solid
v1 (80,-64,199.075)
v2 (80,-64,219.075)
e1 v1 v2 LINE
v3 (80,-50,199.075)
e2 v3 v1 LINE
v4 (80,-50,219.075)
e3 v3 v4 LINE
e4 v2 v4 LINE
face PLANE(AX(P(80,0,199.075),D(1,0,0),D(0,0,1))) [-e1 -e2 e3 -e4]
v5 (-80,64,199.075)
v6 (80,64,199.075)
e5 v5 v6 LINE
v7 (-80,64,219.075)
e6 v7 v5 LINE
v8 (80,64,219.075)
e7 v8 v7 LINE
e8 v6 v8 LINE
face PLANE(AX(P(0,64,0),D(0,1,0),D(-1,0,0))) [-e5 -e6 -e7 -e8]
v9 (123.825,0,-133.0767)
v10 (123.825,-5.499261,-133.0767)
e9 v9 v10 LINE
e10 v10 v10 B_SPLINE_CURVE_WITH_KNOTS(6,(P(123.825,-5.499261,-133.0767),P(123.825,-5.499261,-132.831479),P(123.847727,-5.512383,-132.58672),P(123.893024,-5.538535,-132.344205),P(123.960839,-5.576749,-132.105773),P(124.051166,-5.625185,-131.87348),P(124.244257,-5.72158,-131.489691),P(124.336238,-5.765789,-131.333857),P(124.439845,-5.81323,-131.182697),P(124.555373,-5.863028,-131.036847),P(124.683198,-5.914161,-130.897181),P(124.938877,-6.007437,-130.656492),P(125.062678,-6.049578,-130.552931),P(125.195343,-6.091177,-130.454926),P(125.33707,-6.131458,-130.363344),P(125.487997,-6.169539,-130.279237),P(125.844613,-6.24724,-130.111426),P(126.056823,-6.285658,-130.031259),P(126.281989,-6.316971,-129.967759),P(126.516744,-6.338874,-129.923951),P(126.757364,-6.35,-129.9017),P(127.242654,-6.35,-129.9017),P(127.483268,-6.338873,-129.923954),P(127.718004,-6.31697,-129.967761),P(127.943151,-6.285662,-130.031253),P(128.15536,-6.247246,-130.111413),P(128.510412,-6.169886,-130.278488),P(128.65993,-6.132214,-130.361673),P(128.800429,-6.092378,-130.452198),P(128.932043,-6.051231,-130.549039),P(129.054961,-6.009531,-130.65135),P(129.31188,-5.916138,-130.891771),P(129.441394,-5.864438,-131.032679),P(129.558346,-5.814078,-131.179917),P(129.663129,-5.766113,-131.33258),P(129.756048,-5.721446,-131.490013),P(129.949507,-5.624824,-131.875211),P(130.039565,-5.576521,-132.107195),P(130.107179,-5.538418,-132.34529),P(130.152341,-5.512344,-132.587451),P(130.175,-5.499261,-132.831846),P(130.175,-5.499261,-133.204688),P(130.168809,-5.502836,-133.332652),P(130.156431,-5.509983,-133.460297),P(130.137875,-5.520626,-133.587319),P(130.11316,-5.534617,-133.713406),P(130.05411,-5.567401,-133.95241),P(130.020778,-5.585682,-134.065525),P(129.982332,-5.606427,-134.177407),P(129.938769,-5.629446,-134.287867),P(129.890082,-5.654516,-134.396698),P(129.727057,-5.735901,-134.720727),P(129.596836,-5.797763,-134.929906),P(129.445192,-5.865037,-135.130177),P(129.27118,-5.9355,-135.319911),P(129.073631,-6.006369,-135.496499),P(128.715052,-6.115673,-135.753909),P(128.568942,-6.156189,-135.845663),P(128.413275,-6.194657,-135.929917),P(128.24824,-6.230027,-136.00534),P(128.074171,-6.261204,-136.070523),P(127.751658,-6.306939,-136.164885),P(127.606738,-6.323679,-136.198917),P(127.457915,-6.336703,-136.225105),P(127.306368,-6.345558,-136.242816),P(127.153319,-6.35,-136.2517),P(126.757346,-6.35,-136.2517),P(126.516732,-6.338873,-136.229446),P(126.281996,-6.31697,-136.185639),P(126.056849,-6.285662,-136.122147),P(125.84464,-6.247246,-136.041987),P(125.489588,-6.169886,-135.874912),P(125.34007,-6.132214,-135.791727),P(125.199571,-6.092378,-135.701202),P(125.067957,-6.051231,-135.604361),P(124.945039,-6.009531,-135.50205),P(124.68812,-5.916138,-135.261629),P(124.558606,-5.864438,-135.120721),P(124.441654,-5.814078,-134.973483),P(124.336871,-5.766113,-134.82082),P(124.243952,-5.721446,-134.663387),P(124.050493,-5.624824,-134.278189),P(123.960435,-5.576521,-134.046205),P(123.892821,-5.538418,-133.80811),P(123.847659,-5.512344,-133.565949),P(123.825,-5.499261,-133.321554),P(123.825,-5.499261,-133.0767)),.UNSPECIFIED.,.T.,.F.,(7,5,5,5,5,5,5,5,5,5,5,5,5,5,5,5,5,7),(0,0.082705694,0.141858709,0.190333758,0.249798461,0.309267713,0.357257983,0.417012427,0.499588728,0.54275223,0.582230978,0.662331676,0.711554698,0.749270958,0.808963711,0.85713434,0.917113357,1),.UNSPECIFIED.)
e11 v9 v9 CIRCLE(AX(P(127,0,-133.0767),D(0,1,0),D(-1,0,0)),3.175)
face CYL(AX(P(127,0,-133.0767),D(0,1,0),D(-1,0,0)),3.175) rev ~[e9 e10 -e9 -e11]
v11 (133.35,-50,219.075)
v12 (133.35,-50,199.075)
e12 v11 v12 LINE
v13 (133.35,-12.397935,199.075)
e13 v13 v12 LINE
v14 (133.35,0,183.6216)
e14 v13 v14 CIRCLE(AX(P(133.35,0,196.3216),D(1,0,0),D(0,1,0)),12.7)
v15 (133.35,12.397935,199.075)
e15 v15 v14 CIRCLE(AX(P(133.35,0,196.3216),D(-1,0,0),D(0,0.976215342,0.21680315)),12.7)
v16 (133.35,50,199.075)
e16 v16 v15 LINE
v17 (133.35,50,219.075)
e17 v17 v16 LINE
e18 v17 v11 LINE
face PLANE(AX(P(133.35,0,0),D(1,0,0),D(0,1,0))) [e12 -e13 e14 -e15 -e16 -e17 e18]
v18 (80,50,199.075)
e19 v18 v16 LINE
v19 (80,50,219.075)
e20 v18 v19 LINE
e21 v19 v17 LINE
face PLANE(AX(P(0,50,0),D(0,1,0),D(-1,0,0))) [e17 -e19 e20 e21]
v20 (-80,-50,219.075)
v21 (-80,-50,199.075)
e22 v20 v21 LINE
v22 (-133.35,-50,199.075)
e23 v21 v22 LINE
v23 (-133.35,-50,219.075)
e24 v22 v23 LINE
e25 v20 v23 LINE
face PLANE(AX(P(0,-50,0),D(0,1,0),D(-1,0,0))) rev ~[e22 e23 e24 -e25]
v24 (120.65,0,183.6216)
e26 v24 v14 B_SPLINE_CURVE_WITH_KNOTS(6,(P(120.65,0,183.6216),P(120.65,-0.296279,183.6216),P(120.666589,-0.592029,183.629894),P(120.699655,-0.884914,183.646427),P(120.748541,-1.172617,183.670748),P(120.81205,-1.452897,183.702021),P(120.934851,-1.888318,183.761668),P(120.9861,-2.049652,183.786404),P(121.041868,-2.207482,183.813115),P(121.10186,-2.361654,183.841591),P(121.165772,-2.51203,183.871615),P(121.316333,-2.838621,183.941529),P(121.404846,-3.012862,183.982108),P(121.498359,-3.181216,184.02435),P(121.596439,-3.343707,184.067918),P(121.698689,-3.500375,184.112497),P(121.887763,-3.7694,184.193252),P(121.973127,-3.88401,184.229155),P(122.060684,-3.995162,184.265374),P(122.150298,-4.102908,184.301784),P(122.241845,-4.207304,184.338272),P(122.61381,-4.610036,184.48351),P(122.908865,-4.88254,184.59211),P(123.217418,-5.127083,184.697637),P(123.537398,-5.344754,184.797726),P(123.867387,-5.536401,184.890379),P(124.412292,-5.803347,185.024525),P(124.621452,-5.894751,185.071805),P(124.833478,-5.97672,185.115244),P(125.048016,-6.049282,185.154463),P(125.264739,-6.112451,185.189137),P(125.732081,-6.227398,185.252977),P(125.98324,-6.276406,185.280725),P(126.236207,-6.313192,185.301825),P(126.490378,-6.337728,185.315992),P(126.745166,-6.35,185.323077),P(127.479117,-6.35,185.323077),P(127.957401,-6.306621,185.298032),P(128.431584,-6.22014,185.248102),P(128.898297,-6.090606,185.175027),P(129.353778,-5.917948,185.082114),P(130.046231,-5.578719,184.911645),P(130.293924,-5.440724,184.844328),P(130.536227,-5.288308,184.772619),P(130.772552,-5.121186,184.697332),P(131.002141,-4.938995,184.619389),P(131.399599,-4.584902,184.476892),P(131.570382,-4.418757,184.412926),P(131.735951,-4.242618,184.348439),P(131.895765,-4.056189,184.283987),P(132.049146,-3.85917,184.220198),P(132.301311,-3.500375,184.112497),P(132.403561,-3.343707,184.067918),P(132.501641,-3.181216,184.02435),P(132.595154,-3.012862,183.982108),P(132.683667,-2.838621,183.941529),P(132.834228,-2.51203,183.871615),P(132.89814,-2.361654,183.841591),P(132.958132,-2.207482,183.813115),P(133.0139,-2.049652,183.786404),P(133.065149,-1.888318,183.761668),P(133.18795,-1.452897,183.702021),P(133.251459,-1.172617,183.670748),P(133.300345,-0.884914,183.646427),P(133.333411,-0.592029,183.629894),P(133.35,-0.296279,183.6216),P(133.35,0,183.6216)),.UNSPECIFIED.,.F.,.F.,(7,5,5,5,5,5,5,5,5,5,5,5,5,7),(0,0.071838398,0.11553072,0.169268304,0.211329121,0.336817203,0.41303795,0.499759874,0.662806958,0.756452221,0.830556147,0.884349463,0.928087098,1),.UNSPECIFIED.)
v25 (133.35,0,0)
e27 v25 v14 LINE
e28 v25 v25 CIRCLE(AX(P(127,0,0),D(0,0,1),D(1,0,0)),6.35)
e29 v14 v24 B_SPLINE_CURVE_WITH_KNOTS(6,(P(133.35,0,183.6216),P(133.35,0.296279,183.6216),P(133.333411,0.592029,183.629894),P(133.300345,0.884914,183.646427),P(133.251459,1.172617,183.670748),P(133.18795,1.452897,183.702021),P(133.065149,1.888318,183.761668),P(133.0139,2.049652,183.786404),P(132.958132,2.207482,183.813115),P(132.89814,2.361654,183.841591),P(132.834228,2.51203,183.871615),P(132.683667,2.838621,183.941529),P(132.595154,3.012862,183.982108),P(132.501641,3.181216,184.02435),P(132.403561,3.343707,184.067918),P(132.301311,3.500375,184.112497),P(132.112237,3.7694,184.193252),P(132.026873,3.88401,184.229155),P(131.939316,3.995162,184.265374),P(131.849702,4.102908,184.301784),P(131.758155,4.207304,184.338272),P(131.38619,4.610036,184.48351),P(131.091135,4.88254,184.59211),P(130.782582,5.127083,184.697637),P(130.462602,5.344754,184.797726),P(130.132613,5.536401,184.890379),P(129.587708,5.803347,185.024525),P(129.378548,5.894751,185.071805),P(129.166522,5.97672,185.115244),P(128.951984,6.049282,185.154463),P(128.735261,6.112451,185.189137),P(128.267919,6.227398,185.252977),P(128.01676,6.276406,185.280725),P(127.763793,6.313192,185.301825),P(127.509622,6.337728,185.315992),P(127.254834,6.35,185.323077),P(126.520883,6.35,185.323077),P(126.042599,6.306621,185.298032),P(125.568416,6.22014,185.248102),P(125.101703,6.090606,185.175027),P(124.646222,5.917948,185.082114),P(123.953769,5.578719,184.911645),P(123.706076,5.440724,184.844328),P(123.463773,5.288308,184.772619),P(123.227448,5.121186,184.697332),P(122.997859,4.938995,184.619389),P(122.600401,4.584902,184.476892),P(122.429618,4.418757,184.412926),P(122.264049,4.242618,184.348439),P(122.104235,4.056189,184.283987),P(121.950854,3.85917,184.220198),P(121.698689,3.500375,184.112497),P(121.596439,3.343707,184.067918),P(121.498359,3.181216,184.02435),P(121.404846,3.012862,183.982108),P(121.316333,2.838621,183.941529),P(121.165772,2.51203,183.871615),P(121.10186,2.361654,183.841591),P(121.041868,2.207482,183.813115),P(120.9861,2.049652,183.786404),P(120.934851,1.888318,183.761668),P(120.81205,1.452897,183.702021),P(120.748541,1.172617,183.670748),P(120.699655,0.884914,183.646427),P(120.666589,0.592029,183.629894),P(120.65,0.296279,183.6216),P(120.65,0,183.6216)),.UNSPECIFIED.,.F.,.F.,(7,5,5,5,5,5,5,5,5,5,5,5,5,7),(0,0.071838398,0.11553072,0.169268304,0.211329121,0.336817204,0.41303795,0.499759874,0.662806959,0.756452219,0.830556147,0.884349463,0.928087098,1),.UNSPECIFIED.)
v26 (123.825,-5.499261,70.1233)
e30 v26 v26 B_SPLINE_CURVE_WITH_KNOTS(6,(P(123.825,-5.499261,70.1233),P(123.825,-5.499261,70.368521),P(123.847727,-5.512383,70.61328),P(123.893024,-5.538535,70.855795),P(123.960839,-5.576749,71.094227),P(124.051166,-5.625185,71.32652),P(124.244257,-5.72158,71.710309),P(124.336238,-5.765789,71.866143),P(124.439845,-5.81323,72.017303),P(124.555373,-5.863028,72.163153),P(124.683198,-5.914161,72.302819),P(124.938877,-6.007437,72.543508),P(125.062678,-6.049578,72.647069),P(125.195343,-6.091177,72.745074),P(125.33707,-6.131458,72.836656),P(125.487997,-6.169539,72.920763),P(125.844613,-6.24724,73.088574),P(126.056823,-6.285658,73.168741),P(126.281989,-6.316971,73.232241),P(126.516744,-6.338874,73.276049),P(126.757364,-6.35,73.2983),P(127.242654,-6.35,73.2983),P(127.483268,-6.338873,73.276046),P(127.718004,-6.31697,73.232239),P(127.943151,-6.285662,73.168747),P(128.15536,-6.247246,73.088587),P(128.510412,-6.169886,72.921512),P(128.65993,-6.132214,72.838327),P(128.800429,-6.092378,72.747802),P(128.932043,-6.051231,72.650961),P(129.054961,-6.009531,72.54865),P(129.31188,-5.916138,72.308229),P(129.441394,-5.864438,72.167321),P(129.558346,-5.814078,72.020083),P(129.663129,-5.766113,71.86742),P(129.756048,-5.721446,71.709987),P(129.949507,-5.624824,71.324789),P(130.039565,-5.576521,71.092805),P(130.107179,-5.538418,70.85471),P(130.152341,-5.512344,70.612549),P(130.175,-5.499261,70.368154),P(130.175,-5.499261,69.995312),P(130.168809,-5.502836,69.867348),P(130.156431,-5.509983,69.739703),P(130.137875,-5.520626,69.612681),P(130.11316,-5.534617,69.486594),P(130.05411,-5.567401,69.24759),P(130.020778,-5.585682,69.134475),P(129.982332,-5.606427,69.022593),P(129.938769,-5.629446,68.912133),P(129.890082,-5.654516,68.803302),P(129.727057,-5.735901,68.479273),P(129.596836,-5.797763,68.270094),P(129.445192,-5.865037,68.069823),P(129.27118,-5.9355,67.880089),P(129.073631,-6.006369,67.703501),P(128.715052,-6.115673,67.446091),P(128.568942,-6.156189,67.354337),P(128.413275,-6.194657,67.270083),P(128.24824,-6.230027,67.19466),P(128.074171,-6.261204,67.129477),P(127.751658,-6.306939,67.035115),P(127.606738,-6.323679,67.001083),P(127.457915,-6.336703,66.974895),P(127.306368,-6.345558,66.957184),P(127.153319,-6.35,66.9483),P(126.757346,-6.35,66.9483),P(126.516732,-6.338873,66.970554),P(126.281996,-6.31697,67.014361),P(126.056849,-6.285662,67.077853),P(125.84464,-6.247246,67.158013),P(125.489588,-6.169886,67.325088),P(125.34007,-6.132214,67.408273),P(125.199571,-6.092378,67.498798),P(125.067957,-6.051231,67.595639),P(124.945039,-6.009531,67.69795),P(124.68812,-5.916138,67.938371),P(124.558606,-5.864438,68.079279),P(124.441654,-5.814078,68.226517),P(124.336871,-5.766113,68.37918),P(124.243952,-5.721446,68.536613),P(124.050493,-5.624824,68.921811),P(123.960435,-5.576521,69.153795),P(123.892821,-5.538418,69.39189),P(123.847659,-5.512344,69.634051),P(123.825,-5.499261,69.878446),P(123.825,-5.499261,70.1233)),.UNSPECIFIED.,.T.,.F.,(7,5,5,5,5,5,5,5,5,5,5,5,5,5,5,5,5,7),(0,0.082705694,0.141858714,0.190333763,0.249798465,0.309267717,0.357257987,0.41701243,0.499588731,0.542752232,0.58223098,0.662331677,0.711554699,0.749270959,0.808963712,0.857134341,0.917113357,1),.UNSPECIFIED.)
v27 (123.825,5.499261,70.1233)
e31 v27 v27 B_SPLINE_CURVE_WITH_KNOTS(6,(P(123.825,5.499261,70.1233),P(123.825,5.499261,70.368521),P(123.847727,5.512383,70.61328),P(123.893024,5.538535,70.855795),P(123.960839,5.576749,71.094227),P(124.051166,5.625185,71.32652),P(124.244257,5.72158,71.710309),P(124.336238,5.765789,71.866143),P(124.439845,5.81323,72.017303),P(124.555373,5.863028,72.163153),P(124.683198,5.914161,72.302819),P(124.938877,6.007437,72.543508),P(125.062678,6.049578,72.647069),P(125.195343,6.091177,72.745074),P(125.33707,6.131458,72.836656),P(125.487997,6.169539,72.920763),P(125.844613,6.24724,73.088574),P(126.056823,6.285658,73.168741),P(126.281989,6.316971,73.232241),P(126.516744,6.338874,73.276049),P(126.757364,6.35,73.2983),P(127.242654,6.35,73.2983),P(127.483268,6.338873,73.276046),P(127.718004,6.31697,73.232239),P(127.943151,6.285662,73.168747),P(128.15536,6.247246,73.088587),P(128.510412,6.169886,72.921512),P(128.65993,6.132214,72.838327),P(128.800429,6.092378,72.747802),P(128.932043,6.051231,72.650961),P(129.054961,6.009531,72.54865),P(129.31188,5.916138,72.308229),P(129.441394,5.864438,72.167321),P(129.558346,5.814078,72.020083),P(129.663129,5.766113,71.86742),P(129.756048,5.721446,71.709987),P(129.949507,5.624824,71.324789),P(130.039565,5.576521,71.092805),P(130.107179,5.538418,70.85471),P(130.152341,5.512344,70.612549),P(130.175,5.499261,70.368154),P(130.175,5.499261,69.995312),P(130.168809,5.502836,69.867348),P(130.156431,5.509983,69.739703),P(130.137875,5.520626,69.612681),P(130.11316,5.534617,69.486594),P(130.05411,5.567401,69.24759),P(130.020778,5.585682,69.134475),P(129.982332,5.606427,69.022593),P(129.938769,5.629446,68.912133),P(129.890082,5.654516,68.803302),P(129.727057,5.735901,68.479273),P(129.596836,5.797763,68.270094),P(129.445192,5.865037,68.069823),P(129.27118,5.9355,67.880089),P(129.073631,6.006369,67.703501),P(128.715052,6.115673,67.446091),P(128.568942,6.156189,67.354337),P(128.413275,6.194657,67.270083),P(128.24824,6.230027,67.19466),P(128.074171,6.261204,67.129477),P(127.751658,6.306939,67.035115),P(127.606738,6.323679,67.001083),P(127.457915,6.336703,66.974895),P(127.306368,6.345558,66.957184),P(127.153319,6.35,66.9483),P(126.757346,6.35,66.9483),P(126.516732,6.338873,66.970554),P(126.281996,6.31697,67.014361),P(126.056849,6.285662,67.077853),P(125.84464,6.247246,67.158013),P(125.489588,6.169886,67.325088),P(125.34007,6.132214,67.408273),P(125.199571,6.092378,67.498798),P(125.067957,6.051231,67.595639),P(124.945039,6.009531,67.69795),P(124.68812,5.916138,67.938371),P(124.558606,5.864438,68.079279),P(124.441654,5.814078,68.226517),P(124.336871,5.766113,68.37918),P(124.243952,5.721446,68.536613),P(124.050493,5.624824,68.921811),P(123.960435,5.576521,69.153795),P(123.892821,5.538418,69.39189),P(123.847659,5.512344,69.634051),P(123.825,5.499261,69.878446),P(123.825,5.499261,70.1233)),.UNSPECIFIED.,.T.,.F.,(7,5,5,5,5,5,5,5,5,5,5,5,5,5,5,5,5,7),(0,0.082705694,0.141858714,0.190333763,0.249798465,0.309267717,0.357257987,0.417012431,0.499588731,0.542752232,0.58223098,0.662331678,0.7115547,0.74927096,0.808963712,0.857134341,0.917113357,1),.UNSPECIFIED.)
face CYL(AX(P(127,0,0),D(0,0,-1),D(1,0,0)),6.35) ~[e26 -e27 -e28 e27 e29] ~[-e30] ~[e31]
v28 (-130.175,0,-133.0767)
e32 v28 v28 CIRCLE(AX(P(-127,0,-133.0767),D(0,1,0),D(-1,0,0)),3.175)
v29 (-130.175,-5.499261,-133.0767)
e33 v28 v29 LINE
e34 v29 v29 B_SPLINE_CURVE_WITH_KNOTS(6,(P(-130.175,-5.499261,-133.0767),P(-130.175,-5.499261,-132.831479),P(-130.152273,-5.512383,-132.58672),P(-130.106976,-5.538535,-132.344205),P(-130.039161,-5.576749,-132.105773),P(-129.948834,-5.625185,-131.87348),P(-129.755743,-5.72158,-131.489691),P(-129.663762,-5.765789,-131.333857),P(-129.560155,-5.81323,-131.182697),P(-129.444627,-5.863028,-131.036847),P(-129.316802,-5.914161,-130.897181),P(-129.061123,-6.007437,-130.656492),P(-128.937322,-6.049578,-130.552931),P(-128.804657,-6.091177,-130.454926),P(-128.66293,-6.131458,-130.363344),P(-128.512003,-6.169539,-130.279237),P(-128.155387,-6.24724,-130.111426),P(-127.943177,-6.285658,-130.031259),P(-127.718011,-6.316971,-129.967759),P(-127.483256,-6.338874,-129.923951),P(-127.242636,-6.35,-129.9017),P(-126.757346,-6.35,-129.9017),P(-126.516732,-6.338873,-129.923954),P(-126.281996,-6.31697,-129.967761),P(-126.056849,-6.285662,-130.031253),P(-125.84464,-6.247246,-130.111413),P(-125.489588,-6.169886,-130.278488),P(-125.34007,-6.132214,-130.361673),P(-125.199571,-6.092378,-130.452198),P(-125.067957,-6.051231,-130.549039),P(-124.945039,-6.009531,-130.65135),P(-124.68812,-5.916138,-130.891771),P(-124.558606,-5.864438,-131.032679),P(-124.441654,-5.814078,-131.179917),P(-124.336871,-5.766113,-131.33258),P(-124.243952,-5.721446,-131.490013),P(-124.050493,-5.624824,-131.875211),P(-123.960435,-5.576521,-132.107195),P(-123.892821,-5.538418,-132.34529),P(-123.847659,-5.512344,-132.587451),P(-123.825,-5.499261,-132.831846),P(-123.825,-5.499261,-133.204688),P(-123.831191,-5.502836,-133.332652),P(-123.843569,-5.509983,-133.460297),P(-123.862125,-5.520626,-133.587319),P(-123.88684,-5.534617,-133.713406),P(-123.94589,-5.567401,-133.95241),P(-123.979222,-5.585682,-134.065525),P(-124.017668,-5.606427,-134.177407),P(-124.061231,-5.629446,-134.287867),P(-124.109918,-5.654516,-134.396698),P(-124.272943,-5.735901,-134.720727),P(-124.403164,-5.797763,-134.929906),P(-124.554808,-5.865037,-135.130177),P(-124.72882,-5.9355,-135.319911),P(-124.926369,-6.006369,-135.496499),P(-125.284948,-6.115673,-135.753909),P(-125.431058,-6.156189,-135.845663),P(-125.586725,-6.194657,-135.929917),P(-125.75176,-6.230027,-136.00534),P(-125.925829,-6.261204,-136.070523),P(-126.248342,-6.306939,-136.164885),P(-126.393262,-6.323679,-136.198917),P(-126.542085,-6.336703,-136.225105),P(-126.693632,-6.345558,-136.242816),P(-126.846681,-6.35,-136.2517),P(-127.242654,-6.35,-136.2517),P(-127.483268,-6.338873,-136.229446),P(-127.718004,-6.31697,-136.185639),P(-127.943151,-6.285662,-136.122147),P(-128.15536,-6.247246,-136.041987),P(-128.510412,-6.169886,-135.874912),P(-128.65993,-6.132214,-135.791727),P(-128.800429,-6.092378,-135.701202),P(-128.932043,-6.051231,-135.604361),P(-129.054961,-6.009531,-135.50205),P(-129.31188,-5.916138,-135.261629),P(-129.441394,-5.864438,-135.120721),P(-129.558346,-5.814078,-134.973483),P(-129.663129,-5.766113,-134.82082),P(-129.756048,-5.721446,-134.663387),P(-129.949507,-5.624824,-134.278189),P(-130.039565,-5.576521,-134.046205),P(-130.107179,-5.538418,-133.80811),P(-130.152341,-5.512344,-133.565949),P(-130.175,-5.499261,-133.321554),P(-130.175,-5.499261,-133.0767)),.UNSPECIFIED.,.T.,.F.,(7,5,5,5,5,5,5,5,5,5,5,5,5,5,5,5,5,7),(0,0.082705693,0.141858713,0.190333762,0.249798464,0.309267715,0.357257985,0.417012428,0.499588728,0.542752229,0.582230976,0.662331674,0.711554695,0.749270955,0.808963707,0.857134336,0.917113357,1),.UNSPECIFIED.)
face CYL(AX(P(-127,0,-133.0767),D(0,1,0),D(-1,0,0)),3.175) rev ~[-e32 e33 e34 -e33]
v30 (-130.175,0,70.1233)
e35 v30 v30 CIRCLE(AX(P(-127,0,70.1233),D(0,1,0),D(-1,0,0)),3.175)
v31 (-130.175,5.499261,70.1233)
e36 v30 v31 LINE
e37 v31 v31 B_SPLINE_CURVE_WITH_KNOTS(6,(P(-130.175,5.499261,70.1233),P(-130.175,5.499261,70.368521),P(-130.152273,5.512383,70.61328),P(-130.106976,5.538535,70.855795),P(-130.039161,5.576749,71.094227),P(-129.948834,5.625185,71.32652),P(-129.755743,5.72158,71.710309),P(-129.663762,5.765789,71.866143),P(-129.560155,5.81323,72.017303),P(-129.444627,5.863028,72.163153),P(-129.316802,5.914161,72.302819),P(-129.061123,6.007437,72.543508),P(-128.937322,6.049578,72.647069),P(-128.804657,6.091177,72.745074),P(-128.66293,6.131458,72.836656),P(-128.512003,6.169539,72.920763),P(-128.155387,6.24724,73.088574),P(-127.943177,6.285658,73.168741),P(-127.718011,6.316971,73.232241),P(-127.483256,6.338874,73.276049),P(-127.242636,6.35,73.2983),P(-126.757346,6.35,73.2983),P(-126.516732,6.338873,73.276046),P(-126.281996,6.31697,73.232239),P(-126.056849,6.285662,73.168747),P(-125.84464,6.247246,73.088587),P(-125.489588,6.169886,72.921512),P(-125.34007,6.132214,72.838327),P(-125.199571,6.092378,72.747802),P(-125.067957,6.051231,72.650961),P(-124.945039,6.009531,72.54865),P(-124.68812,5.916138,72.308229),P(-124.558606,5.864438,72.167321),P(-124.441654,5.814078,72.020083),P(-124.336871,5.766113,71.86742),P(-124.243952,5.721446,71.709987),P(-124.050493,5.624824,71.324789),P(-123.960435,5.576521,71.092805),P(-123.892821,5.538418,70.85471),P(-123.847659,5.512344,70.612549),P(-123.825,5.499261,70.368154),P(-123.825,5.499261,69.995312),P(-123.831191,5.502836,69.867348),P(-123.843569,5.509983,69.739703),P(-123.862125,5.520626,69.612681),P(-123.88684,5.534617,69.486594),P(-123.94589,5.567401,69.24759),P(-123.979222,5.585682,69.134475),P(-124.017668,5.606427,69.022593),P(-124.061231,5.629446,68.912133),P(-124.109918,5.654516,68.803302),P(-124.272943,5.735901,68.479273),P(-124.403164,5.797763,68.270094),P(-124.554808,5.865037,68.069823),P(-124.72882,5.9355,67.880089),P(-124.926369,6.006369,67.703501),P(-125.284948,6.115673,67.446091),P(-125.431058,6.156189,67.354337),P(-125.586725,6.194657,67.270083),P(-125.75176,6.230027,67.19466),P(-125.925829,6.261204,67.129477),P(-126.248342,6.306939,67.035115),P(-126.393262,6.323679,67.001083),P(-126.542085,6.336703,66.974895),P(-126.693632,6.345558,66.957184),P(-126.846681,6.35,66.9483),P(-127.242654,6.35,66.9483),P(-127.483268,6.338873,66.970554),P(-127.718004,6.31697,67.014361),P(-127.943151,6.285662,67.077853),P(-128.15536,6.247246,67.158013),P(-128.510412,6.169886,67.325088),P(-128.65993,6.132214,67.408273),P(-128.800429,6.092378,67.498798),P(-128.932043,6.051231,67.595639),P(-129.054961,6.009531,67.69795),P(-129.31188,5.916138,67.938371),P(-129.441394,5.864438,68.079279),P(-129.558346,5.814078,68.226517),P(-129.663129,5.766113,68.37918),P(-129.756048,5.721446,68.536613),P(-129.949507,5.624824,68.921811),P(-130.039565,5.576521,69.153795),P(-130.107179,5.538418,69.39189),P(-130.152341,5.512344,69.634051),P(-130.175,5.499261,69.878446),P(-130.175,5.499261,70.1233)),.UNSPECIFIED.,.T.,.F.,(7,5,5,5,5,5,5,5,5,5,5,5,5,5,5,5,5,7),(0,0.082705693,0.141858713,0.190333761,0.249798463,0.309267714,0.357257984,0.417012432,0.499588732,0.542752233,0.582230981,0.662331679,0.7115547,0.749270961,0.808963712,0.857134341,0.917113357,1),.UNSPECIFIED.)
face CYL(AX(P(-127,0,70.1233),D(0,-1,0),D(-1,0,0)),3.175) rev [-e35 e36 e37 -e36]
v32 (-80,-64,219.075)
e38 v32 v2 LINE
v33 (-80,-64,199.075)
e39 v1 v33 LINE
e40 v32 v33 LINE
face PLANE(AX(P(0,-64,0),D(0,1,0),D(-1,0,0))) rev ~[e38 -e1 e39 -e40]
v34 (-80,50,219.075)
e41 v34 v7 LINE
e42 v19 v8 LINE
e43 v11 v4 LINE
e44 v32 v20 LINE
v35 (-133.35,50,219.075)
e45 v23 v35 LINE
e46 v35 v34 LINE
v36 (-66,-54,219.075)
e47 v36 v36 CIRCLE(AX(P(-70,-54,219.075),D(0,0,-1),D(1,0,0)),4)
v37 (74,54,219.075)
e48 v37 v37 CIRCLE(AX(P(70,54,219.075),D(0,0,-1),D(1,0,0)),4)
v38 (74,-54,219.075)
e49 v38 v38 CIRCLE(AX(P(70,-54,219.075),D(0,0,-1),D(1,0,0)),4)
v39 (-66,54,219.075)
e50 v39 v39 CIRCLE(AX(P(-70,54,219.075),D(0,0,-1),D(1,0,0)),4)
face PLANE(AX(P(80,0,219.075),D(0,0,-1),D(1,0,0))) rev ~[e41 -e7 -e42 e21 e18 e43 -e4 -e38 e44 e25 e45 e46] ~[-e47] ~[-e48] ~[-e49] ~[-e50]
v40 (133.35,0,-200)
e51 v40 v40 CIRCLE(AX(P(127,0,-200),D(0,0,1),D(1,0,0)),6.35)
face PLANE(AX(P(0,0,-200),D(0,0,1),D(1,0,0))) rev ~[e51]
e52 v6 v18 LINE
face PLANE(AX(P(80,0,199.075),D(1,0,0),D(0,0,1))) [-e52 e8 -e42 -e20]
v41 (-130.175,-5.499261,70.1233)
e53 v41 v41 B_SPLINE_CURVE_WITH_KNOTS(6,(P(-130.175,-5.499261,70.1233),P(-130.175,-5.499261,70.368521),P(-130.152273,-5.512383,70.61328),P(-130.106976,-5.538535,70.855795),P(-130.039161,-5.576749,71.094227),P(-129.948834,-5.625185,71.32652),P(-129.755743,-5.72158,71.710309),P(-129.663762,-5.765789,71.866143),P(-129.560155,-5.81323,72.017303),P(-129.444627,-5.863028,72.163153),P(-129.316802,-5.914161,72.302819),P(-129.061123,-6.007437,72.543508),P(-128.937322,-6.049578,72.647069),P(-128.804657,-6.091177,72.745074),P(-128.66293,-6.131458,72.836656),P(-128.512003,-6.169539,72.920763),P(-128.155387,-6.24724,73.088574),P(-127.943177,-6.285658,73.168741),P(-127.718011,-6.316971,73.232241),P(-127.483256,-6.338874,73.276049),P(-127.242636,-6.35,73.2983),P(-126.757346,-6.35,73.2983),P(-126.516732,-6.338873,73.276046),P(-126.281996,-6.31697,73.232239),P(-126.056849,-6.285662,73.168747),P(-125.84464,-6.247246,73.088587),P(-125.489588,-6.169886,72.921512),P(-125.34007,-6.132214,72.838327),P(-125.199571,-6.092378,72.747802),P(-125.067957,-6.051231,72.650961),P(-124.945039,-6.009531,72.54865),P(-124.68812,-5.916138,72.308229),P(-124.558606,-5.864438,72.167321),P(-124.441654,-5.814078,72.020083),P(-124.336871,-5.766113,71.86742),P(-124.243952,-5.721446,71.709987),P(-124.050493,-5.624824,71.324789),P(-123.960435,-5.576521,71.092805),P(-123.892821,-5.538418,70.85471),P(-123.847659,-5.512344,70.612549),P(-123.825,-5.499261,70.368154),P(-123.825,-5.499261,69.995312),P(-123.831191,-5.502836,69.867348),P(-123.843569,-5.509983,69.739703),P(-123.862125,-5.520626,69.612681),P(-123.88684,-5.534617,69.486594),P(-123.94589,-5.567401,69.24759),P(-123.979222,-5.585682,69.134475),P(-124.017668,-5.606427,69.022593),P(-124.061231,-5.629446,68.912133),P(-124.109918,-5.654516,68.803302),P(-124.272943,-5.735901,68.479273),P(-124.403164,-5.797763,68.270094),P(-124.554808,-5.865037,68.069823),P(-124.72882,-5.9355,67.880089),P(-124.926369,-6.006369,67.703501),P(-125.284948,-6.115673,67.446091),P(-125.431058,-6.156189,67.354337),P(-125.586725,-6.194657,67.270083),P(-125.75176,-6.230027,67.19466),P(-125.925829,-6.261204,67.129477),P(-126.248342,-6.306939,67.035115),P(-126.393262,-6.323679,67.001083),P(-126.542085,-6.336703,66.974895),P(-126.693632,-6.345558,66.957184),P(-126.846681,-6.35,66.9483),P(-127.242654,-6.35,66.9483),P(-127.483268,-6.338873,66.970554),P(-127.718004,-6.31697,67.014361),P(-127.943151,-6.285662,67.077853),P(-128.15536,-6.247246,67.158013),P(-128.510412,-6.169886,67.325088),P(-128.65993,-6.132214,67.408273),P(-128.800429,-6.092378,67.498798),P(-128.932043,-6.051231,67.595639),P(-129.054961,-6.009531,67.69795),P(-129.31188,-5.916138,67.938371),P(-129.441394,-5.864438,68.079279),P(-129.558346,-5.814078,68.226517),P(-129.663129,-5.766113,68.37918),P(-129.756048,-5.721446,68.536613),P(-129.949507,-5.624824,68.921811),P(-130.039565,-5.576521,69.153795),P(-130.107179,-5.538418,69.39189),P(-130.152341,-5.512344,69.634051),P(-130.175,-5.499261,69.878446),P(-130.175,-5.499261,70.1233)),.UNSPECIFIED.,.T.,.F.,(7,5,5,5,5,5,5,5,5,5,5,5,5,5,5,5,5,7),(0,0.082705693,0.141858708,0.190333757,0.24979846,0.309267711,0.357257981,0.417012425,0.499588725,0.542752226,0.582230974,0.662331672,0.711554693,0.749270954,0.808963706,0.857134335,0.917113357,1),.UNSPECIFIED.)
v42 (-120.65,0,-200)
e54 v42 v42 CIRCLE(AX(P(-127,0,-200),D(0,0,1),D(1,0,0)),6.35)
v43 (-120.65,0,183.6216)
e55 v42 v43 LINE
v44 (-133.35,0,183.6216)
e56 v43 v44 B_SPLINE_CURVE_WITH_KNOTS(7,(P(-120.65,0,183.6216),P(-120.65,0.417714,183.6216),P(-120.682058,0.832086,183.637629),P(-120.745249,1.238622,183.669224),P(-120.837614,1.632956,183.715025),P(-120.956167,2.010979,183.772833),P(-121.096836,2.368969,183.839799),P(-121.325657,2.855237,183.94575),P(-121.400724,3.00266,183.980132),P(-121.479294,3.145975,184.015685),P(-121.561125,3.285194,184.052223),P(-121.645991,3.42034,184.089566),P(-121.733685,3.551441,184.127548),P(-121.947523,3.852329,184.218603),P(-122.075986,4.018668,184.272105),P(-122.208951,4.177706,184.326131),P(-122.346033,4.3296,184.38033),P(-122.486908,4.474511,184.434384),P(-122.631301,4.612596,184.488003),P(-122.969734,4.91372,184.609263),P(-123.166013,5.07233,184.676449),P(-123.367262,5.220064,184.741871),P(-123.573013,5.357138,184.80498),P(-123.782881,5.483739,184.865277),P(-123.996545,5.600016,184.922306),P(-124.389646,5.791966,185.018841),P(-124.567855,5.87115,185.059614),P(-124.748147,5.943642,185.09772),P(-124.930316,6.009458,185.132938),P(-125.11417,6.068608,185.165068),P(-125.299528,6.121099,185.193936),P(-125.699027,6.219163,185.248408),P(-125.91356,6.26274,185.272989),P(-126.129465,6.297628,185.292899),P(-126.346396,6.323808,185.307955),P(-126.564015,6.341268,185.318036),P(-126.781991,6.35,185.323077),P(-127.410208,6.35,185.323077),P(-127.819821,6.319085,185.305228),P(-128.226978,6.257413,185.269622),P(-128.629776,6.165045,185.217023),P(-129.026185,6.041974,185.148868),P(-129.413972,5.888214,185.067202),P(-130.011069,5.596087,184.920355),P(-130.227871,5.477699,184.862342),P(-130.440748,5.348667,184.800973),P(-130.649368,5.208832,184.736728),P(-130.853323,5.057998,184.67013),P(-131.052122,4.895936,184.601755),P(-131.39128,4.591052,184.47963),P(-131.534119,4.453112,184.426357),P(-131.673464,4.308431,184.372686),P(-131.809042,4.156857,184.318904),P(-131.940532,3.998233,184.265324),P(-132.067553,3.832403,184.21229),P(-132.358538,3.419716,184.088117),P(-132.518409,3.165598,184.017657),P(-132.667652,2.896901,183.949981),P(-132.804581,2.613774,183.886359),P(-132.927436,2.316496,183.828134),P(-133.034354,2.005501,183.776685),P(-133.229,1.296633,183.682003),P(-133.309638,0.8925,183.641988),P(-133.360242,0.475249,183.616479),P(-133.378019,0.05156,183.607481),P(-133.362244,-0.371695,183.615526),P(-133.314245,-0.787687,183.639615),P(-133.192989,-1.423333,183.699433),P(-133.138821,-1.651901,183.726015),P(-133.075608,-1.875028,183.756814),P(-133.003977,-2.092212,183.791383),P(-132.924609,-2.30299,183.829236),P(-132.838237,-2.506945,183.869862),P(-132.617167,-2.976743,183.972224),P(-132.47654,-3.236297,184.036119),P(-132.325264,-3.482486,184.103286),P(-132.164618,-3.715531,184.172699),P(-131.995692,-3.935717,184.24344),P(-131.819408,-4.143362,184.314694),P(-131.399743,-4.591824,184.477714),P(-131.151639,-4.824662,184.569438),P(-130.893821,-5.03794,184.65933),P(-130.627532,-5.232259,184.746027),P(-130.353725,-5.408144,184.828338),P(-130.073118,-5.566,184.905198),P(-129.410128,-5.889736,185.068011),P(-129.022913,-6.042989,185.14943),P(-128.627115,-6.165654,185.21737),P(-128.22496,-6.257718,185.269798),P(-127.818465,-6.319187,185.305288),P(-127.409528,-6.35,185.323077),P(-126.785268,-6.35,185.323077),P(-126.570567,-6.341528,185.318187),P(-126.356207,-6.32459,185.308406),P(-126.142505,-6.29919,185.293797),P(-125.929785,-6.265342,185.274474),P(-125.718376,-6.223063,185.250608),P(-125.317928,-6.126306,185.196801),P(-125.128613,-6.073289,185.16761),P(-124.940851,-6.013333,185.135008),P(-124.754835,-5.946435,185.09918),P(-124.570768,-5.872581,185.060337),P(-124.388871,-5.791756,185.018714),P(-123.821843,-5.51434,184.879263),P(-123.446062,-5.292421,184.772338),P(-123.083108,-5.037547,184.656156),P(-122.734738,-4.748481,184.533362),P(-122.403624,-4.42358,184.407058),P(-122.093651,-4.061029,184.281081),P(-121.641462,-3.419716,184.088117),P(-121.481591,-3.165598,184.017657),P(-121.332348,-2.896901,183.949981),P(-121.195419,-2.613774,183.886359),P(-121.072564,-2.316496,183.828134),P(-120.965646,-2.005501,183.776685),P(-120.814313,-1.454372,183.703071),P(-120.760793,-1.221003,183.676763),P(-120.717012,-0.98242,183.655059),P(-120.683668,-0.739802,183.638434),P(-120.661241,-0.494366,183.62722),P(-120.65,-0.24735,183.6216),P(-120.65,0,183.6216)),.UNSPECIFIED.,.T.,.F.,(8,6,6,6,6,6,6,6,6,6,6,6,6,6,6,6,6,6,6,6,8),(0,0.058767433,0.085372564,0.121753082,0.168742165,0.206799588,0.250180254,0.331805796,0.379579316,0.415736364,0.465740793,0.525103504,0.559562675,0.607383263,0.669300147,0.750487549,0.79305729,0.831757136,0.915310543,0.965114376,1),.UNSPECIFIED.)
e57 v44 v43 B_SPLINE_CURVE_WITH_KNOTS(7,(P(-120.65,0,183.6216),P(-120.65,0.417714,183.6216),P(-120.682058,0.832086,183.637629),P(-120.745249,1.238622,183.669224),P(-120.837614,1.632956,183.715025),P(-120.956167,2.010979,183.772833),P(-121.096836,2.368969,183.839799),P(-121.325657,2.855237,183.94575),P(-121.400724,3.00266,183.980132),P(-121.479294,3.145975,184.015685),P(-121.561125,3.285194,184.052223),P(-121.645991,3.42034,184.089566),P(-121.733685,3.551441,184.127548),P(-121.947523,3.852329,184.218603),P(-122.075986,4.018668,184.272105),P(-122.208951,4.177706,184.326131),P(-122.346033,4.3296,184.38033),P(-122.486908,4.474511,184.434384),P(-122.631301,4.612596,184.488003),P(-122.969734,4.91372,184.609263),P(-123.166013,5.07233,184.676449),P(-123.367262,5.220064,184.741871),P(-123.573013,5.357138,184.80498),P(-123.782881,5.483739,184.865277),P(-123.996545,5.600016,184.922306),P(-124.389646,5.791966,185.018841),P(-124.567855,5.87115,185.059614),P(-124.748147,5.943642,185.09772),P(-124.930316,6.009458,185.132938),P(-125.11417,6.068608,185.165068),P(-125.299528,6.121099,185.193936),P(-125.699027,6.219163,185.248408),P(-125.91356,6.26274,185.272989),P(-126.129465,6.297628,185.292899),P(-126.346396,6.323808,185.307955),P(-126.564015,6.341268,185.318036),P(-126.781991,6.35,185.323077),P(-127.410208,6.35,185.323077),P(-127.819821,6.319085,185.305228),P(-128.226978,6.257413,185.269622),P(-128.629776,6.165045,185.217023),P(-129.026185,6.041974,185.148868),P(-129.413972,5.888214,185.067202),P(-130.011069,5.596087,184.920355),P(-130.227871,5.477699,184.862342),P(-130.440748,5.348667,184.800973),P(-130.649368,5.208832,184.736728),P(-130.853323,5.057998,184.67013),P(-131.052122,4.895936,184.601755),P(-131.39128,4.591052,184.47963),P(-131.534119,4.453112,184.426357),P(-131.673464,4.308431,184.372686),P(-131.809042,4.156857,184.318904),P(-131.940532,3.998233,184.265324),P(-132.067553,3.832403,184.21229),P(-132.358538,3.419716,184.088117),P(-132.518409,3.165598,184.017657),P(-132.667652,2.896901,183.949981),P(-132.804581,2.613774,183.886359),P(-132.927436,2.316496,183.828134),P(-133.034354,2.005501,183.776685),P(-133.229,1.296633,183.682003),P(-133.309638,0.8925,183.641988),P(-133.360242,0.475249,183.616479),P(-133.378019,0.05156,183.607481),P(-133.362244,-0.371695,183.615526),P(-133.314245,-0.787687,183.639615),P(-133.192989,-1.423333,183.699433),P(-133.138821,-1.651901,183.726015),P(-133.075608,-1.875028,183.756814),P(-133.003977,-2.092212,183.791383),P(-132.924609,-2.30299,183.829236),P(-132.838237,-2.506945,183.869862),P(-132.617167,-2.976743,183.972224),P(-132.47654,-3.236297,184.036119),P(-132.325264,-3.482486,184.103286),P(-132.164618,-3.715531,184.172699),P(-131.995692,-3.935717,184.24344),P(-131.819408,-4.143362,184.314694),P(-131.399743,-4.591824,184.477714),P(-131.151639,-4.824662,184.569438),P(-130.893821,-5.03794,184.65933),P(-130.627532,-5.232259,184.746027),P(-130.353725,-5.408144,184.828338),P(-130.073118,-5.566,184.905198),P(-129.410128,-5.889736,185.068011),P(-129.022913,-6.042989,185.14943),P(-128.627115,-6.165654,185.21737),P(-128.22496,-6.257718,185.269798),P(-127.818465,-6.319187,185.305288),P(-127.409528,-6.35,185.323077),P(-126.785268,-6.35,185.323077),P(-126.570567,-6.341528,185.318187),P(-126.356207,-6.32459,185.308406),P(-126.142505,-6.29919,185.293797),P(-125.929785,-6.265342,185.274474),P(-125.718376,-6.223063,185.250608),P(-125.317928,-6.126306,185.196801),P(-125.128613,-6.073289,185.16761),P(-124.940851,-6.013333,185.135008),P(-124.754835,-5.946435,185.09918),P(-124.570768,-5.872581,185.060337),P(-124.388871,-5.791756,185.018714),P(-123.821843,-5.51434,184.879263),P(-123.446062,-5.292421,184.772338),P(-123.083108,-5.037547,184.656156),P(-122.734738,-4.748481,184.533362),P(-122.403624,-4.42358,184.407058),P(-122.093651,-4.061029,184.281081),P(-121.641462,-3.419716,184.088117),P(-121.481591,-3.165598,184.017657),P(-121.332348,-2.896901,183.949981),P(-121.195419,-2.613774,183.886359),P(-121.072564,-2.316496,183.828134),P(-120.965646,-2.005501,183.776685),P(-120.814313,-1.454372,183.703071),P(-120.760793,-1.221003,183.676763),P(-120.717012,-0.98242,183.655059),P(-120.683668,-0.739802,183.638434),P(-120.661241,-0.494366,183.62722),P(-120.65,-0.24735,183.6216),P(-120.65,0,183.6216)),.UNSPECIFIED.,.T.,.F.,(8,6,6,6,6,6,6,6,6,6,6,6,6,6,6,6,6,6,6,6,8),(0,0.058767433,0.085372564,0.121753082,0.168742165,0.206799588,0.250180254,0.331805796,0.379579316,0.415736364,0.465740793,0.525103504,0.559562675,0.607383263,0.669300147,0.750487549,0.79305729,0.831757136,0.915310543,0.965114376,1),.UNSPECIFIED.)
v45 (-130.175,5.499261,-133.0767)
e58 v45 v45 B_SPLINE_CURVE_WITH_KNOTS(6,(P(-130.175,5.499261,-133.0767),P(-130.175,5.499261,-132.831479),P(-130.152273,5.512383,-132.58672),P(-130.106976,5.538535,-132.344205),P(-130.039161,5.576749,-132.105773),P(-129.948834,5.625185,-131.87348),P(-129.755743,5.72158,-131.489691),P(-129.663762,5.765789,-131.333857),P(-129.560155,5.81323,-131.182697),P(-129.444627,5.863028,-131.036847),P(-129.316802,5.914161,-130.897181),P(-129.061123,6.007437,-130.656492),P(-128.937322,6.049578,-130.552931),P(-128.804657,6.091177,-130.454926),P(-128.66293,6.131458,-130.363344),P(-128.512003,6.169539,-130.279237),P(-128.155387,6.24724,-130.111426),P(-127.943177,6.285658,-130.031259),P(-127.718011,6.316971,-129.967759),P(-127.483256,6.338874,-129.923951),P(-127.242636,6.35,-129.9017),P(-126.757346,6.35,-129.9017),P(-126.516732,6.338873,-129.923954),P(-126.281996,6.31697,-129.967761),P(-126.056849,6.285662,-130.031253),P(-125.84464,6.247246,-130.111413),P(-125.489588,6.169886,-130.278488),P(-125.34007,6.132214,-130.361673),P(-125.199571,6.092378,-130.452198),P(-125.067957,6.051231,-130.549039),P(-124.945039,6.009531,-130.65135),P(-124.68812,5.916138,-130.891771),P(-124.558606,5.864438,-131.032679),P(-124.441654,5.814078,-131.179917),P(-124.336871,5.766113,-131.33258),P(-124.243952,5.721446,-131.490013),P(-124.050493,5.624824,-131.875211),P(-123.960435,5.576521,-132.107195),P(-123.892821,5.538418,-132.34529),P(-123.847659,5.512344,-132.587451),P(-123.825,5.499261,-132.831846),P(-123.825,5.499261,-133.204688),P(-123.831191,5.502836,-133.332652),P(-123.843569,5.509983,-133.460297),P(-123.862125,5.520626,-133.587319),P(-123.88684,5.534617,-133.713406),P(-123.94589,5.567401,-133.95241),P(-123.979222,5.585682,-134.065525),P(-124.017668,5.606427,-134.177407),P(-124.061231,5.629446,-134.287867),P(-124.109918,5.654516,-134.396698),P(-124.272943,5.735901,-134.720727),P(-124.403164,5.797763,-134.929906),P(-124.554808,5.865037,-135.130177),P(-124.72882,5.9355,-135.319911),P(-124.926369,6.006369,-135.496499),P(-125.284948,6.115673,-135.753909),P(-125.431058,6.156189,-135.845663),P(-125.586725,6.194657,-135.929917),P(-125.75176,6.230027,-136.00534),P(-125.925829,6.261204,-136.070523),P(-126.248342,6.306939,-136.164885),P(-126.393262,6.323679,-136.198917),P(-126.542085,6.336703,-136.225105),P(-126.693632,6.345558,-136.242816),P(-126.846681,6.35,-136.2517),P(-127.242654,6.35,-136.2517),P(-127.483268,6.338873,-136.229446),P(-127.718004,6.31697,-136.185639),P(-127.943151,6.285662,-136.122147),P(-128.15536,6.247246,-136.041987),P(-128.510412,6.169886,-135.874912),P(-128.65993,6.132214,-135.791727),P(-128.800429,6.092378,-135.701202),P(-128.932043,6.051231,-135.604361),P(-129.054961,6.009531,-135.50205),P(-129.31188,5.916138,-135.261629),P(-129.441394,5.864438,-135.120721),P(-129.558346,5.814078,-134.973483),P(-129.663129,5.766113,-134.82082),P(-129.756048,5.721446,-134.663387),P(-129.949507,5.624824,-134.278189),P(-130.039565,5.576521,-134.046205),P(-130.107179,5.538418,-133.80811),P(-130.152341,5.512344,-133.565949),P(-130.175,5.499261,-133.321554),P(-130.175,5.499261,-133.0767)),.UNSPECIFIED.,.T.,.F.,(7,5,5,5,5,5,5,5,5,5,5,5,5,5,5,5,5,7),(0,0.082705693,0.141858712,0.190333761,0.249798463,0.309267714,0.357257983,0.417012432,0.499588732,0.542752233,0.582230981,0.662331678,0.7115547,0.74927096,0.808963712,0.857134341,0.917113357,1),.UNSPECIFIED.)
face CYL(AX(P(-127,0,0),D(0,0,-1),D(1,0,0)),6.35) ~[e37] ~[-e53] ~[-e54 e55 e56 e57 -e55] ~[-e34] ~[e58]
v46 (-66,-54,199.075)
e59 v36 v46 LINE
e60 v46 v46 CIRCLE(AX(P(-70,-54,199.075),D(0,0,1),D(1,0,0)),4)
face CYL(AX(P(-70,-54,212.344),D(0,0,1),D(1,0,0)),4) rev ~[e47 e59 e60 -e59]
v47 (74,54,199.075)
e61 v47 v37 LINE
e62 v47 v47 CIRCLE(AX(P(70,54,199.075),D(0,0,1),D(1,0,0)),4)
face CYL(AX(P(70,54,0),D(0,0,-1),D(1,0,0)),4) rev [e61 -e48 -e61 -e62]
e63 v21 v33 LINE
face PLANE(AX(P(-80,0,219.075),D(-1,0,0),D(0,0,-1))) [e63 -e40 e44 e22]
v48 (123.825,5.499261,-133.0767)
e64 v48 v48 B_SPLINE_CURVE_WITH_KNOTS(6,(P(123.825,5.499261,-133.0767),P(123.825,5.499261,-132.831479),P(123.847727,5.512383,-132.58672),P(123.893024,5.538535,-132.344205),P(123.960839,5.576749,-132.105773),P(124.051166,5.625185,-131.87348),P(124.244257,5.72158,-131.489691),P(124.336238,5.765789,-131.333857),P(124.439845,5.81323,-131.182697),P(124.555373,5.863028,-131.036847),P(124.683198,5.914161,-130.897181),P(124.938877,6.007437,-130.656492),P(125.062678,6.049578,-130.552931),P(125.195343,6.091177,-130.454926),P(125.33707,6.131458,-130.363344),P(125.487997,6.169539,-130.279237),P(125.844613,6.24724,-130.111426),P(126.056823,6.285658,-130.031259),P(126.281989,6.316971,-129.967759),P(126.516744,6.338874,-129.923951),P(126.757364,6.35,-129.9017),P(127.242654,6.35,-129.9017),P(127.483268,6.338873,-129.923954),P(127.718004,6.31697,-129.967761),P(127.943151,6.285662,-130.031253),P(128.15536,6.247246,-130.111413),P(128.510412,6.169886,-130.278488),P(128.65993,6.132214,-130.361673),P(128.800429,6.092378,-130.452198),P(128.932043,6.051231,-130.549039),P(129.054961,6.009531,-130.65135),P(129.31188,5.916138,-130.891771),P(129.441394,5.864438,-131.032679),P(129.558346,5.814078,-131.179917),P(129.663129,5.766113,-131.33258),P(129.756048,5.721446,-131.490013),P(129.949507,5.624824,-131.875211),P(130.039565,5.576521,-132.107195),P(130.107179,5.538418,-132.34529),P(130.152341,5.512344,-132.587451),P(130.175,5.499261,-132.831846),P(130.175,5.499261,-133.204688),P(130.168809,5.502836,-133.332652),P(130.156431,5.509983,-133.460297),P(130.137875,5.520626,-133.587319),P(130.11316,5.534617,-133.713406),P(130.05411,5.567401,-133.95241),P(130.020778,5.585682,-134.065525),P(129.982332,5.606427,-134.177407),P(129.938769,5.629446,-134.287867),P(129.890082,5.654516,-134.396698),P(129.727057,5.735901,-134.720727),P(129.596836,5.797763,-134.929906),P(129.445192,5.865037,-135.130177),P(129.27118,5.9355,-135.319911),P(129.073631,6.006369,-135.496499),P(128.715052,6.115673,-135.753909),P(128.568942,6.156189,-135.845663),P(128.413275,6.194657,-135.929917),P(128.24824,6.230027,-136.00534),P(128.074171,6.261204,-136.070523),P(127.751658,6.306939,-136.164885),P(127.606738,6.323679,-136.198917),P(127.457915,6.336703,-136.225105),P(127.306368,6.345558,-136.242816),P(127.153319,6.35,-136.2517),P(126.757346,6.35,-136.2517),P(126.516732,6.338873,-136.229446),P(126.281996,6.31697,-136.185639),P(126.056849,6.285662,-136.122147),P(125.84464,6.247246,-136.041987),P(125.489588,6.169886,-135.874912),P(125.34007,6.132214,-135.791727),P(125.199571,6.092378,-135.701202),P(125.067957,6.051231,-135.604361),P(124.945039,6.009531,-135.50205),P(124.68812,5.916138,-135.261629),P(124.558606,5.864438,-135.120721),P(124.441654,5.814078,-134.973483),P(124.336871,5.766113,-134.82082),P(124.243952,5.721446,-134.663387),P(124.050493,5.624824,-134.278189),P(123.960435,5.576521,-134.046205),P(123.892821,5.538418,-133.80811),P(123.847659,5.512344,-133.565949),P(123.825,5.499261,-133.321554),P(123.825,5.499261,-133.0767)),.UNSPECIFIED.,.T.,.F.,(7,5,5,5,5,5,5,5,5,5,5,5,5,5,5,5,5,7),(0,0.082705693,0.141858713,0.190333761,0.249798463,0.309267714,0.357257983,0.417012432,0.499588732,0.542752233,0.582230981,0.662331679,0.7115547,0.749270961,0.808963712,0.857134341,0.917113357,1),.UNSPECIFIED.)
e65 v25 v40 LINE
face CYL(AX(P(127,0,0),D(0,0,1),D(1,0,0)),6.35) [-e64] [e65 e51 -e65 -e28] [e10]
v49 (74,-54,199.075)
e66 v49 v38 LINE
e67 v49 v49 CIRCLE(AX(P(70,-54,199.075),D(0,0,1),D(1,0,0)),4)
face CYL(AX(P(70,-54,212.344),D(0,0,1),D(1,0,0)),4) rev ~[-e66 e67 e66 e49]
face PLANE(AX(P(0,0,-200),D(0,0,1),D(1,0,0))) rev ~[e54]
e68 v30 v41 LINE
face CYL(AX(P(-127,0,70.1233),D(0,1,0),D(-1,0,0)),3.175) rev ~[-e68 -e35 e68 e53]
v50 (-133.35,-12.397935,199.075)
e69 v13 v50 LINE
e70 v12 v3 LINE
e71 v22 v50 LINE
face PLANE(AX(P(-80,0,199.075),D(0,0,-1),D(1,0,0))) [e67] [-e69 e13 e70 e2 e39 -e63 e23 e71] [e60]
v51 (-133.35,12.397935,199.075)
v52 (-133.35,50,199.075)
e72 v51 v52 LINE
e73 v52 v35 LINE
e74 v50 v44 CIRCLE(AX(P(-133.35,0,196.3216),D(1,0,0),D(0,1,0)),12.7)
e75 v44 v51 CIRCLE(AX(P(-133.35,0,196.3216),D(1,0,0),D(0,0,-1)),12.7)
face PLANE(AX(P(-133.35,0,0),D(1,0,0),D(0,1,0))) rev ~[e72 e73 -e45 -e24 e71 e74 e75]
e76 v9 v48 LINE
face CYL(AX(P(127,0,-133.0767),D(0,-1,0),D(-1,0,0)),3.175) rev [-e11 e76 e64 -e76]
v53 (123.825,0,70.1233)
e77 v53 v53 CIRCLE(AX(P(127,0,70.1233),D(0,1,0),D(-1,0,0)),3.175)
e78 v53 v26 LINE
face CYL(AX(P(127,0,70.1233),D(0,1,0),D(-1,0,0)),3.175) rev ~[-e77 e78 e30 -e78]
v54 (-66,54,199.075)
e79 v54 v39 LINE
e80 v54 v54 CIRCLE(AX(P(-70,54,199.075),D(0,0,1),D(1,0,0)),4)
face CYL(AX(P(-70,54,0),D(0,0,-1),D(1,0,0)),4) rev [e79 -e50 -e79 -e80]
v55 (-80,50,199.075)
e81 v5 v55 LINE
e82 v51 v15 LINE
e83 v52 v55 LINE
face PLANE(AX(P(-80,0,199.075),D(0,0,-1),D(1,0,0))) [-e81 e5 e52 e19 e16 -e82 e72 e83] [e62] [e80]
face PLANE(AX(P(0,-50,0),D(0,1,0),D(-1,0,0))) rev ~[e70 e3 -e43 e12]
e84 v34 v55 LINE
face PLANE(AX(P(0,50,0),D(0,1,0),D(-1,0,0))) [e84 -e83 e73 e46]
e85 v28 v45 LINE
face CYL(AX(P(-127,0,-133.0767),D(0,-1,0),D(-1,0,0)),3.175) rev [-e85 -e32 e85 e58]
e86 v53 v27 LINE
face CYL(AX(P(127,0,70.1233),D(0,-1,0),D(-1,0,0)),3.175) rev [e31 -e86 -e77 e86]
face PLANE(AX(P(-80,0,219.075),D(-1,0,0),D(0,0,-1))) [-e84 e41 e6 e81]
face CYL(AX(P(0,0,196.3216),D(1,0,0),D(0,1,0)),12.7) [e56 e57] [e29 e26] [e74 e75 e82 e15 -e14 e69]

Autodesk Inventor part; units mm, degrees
ref_plane "YZ Plane" through (0, 0, 0) normal (1, 0, 0) x (0, 1, 0)
sketch "Sketch1" plane through (0, 0, 0) normal (0, 0, 1) x (1, 0, 0)
  line L0 (-127, 0) -> (0, 0)
  line L1 (0, 0) -> (139.7, 0)
  circle A0 centre (-127, 0) radius 6.35
  dimension "d0" = 127
  dimension "d1" = 139.7
extrude "Extrusion1" add sketch "Sketch1" along normal blind 203.2
sketch "Sketch2" plane through (0, 0, 0) normal (0, 0, 1) x (1, 0, 0)
  circle A0 centre (-127, 0) radius 6.35 projected
  line L0 (-127, 0) -> (0, 0)
  line L1 (0, 0) -> (127, 0)
  circle A1 centre (127, 0) radius 6.35
  dimension "d4" = 127
  dimension "d5" = 12.7
extrude "Extrusion2" add sketch "Sketch2" along normal blind 203.2 contours A1
sketch "Sketch3" plane through (0, 0, 0) normal (1, 0, 0) x (0, 1, 0)
  circle A0 centre (0, 196.3216) radius 12.7
  point P0 (0, 0)
  dimension "d17" = 25.4
extrude "Extrusion3" add sketch "Sketch3" along normal mid plane 266.7
ref_plane "Work Plane1" through (0, 0, 203.2) normal (0, 0, 1) x (1, 0, 0)
ref_plane "Work Plane2" through (0, 0, 212.344) normal (0, 0, 1) x (1, 0, 0)
sketch "Sketch8" plane through (0, 0, 0) normal (0, 1, 0) x (-1, 0, 0)
  point P0 (0, 0)
sketch "Sketch9" plane through (0, 0, 0) normal (0, 1, 0) x (-1, 0, 0)
  line L0 (80, 219.075) -> (80, 199.075)
  line L1 (80, 199.075) -> (-80, 199.075)
  line L2 (-80, 199.075) -> (-80, 219.075)
  line L3 (0, 231.775) -> (0, 174.625)
  line L4 (-80, 219.075) -> (0, 219.075)
  line L5 (80, 219.075) -> (0, 219.075)
  point P0 (0, 0)
  dimension "d29" = 20
  dimension "d69" = 80
  dimension "d70" = 80
extrude "Extrusion8" add sketch "Sketch9" along normal mid plane 128
sketch "Sketch10" plane through (0, 0, 0) normal (0, 0, 1) x (1, 0, 0)
  line L0 (-70, 54) -> (70, 54)
  circle A0 centre (-70, 54) radius 4
  circle A1 centre (70, 54) radius 4
  line L1 (-80, 64) -> (-80, 12.3979) projected
  line L2 (80, 64) -> (80, 12.3979) projected
  line L3 (-80, 64) -> (80, 64)
  point P0 (0, 0)
  dimension "d32" = 140
  dimension "d33" = 10
  dimension "d34" = 8
  dimension "d35" = 8
  dimension "d71" = 10
  dimension "d72" = 10
extrude "Extrusion9" cut sketch "Sketch10" along normal blind 240
sketch "Sketch11" plane through (0, 0, 212.344) normal (0, 0, 1) x (1, 0, 0)
  line L0 (-80, -64) -> (80, -64) projected
  line L1 (-80, -64) -> (80, -64)
  line L2 (0, -19.075) -> (0, -95.275)
  line L3 (-70, -54) -> (0, -54)
  line L4 (0, -54) -> (70, -54)
  circle A0 centre (-70, -54) radius 4
  circle A1 centre (70, -54) radius 4
  point P0 (0, 0)
  dimension "d48" = 70
  dimension "d49" = 70
  dimension "d50" = 10
  dimension "d51" = 8
  dimension "d52" = 8
extrude "Extrusion10" cut sketch "Sketch11" along normal mid plane 30
sketch "Sketch12" plane through (0, 0, 0) normal (0, 1, 0) x (-1, 0, 0)
  line L0 (80, 199.075) -> (-80, 199.075) projected
  line L1 (80, 199.075) -> (133.35, 199.075)
  line L2 (133.35, 183.6216) -> (133.35, 209.0216) projected
  line L3 (80, 219.075) -> (-80, 219.075) projected
  line L4 (80, 219.075) -> (133.35, 219.075)
  line L5 (133.35, 219.075) -> (133.35, 199.075)
  line L6 (-80, 219.075) -> (-133.35, 219.075)
  line L7 (-133.35, 209.0216) -> (-133.35, 183.6216) projected
  line L8 (-133.35, 219.075) -> (-133.35, 199.075)
  line L9 (-80, 199.075) -> (-133.35, 199.075)
  point P0 (0, 0)
extrude "Extrusion11" add sketch "Sketch12" along normal mid plane 100
thread "Thread12" size "M8x1.25" class "6H" standard "ANSI Metric M Profile" full length
thread "Thread13" size "M8x1.25" class "6H" standard "ANSI Metric M Profile" full length
thread "Thread14" size "M8x1.25" class "6H" standard "ANSI Metric M Profile" full length
thread "Thread15" size "M8x1.25" class "6H" standard "ANSI Metric M Profile" full length
sketch "Sketch13" plane through (0, 0, 0) normal (0, 0, 1) x (1, 0, 0)
  circle A0 centre (-127, 0) radius 6.35
  line L0 (133.35, 0) -> (133.35, 12.7) projected
  circle A1 centre (127, 0) radius 6.35
  point P0 (0, 0)
  point P1 (133.35, 12.3979)
extrude "Extrusion12" add sketch "Sketch13" against normal blind 200
sketch "Sketch14" plane through (0, 0, 0) normal (0, 1, 0) x (-1, 0, 0)
  circle A0 centre (127, -149.225) radius 4.7625
  circle A1 centre (-127, -149.225) radius 4.7625
  line L0 (0, -204.7875) -> (0, 163.5125)
  line L1 (311.15, -31.4767) -> (-300.0375, -31.4767)
  line L2 (127, -212.725) -> (127, 163.5125)
  line L3 (120.65, -200) -> (120.65, 183.6216) projected
  line L4 (-127, -212.725) -> (-127, 174.625)
  line L5 (310.3631, -133.0767) -> (-296.0619, -133.0767)
  line L6 (311.15, 70.1233) -> (-300.0375, 70.1233)
  line L7 (103.1875, 183.6216) -> (306.3875, 183.6216)
  circle A2 centre (127, -133.0767) radius 3.175
  circle A3 centre (-127, -133.0767) radius 3.175
  circle A4 centre (127, 70.1233) radius 3.175
  circle A5 centre (-127, 70.1233) radius 3.175
  point P0 (0, 0)
  dimension "d84" = 101.6
  dimension "d85" = 203.2
  dimension "d86" = 254
  dimension "d87" = 113.4983
  dimension "d88" = 6.35
  dimension "d89" = 6.35
  dimension "d90" = 6.35
  dimension "d91" = 6.35
extrude "Extrusion13" cut sketch "Sketch14" along normal mid plane 150 contours A2 L5 L2 | L2 L5 A2 | L5 A2 L2 | L2 A2 L5 | A4 L6 L2 | L2 L6 A4 | A3 L4 L5 | L5 L4 A3 | L6 A4 L2 | L2 A4 L6 | L5 A3 L4 | L4 A3 L5 | A5 L4 L6 | L6 L4 A5 | A5 L6 L4 | L6 A5 L4
thread "Thread16" size "M7x1" class "6H" standard "ANSI Metric M Profile" full length
thread "Thread17" size "M7x1" class "6H" standard "ANSI Metric M Profile" full length
thread "Thread18" size "M7x1" class "6H" standard "ANSI Metric M Profile" full length
thread "Thread19" size "M7x1" class "6H" standard "ANSI Metric M Profile" full length
properties part number "Linear Actuator Piece 1"
